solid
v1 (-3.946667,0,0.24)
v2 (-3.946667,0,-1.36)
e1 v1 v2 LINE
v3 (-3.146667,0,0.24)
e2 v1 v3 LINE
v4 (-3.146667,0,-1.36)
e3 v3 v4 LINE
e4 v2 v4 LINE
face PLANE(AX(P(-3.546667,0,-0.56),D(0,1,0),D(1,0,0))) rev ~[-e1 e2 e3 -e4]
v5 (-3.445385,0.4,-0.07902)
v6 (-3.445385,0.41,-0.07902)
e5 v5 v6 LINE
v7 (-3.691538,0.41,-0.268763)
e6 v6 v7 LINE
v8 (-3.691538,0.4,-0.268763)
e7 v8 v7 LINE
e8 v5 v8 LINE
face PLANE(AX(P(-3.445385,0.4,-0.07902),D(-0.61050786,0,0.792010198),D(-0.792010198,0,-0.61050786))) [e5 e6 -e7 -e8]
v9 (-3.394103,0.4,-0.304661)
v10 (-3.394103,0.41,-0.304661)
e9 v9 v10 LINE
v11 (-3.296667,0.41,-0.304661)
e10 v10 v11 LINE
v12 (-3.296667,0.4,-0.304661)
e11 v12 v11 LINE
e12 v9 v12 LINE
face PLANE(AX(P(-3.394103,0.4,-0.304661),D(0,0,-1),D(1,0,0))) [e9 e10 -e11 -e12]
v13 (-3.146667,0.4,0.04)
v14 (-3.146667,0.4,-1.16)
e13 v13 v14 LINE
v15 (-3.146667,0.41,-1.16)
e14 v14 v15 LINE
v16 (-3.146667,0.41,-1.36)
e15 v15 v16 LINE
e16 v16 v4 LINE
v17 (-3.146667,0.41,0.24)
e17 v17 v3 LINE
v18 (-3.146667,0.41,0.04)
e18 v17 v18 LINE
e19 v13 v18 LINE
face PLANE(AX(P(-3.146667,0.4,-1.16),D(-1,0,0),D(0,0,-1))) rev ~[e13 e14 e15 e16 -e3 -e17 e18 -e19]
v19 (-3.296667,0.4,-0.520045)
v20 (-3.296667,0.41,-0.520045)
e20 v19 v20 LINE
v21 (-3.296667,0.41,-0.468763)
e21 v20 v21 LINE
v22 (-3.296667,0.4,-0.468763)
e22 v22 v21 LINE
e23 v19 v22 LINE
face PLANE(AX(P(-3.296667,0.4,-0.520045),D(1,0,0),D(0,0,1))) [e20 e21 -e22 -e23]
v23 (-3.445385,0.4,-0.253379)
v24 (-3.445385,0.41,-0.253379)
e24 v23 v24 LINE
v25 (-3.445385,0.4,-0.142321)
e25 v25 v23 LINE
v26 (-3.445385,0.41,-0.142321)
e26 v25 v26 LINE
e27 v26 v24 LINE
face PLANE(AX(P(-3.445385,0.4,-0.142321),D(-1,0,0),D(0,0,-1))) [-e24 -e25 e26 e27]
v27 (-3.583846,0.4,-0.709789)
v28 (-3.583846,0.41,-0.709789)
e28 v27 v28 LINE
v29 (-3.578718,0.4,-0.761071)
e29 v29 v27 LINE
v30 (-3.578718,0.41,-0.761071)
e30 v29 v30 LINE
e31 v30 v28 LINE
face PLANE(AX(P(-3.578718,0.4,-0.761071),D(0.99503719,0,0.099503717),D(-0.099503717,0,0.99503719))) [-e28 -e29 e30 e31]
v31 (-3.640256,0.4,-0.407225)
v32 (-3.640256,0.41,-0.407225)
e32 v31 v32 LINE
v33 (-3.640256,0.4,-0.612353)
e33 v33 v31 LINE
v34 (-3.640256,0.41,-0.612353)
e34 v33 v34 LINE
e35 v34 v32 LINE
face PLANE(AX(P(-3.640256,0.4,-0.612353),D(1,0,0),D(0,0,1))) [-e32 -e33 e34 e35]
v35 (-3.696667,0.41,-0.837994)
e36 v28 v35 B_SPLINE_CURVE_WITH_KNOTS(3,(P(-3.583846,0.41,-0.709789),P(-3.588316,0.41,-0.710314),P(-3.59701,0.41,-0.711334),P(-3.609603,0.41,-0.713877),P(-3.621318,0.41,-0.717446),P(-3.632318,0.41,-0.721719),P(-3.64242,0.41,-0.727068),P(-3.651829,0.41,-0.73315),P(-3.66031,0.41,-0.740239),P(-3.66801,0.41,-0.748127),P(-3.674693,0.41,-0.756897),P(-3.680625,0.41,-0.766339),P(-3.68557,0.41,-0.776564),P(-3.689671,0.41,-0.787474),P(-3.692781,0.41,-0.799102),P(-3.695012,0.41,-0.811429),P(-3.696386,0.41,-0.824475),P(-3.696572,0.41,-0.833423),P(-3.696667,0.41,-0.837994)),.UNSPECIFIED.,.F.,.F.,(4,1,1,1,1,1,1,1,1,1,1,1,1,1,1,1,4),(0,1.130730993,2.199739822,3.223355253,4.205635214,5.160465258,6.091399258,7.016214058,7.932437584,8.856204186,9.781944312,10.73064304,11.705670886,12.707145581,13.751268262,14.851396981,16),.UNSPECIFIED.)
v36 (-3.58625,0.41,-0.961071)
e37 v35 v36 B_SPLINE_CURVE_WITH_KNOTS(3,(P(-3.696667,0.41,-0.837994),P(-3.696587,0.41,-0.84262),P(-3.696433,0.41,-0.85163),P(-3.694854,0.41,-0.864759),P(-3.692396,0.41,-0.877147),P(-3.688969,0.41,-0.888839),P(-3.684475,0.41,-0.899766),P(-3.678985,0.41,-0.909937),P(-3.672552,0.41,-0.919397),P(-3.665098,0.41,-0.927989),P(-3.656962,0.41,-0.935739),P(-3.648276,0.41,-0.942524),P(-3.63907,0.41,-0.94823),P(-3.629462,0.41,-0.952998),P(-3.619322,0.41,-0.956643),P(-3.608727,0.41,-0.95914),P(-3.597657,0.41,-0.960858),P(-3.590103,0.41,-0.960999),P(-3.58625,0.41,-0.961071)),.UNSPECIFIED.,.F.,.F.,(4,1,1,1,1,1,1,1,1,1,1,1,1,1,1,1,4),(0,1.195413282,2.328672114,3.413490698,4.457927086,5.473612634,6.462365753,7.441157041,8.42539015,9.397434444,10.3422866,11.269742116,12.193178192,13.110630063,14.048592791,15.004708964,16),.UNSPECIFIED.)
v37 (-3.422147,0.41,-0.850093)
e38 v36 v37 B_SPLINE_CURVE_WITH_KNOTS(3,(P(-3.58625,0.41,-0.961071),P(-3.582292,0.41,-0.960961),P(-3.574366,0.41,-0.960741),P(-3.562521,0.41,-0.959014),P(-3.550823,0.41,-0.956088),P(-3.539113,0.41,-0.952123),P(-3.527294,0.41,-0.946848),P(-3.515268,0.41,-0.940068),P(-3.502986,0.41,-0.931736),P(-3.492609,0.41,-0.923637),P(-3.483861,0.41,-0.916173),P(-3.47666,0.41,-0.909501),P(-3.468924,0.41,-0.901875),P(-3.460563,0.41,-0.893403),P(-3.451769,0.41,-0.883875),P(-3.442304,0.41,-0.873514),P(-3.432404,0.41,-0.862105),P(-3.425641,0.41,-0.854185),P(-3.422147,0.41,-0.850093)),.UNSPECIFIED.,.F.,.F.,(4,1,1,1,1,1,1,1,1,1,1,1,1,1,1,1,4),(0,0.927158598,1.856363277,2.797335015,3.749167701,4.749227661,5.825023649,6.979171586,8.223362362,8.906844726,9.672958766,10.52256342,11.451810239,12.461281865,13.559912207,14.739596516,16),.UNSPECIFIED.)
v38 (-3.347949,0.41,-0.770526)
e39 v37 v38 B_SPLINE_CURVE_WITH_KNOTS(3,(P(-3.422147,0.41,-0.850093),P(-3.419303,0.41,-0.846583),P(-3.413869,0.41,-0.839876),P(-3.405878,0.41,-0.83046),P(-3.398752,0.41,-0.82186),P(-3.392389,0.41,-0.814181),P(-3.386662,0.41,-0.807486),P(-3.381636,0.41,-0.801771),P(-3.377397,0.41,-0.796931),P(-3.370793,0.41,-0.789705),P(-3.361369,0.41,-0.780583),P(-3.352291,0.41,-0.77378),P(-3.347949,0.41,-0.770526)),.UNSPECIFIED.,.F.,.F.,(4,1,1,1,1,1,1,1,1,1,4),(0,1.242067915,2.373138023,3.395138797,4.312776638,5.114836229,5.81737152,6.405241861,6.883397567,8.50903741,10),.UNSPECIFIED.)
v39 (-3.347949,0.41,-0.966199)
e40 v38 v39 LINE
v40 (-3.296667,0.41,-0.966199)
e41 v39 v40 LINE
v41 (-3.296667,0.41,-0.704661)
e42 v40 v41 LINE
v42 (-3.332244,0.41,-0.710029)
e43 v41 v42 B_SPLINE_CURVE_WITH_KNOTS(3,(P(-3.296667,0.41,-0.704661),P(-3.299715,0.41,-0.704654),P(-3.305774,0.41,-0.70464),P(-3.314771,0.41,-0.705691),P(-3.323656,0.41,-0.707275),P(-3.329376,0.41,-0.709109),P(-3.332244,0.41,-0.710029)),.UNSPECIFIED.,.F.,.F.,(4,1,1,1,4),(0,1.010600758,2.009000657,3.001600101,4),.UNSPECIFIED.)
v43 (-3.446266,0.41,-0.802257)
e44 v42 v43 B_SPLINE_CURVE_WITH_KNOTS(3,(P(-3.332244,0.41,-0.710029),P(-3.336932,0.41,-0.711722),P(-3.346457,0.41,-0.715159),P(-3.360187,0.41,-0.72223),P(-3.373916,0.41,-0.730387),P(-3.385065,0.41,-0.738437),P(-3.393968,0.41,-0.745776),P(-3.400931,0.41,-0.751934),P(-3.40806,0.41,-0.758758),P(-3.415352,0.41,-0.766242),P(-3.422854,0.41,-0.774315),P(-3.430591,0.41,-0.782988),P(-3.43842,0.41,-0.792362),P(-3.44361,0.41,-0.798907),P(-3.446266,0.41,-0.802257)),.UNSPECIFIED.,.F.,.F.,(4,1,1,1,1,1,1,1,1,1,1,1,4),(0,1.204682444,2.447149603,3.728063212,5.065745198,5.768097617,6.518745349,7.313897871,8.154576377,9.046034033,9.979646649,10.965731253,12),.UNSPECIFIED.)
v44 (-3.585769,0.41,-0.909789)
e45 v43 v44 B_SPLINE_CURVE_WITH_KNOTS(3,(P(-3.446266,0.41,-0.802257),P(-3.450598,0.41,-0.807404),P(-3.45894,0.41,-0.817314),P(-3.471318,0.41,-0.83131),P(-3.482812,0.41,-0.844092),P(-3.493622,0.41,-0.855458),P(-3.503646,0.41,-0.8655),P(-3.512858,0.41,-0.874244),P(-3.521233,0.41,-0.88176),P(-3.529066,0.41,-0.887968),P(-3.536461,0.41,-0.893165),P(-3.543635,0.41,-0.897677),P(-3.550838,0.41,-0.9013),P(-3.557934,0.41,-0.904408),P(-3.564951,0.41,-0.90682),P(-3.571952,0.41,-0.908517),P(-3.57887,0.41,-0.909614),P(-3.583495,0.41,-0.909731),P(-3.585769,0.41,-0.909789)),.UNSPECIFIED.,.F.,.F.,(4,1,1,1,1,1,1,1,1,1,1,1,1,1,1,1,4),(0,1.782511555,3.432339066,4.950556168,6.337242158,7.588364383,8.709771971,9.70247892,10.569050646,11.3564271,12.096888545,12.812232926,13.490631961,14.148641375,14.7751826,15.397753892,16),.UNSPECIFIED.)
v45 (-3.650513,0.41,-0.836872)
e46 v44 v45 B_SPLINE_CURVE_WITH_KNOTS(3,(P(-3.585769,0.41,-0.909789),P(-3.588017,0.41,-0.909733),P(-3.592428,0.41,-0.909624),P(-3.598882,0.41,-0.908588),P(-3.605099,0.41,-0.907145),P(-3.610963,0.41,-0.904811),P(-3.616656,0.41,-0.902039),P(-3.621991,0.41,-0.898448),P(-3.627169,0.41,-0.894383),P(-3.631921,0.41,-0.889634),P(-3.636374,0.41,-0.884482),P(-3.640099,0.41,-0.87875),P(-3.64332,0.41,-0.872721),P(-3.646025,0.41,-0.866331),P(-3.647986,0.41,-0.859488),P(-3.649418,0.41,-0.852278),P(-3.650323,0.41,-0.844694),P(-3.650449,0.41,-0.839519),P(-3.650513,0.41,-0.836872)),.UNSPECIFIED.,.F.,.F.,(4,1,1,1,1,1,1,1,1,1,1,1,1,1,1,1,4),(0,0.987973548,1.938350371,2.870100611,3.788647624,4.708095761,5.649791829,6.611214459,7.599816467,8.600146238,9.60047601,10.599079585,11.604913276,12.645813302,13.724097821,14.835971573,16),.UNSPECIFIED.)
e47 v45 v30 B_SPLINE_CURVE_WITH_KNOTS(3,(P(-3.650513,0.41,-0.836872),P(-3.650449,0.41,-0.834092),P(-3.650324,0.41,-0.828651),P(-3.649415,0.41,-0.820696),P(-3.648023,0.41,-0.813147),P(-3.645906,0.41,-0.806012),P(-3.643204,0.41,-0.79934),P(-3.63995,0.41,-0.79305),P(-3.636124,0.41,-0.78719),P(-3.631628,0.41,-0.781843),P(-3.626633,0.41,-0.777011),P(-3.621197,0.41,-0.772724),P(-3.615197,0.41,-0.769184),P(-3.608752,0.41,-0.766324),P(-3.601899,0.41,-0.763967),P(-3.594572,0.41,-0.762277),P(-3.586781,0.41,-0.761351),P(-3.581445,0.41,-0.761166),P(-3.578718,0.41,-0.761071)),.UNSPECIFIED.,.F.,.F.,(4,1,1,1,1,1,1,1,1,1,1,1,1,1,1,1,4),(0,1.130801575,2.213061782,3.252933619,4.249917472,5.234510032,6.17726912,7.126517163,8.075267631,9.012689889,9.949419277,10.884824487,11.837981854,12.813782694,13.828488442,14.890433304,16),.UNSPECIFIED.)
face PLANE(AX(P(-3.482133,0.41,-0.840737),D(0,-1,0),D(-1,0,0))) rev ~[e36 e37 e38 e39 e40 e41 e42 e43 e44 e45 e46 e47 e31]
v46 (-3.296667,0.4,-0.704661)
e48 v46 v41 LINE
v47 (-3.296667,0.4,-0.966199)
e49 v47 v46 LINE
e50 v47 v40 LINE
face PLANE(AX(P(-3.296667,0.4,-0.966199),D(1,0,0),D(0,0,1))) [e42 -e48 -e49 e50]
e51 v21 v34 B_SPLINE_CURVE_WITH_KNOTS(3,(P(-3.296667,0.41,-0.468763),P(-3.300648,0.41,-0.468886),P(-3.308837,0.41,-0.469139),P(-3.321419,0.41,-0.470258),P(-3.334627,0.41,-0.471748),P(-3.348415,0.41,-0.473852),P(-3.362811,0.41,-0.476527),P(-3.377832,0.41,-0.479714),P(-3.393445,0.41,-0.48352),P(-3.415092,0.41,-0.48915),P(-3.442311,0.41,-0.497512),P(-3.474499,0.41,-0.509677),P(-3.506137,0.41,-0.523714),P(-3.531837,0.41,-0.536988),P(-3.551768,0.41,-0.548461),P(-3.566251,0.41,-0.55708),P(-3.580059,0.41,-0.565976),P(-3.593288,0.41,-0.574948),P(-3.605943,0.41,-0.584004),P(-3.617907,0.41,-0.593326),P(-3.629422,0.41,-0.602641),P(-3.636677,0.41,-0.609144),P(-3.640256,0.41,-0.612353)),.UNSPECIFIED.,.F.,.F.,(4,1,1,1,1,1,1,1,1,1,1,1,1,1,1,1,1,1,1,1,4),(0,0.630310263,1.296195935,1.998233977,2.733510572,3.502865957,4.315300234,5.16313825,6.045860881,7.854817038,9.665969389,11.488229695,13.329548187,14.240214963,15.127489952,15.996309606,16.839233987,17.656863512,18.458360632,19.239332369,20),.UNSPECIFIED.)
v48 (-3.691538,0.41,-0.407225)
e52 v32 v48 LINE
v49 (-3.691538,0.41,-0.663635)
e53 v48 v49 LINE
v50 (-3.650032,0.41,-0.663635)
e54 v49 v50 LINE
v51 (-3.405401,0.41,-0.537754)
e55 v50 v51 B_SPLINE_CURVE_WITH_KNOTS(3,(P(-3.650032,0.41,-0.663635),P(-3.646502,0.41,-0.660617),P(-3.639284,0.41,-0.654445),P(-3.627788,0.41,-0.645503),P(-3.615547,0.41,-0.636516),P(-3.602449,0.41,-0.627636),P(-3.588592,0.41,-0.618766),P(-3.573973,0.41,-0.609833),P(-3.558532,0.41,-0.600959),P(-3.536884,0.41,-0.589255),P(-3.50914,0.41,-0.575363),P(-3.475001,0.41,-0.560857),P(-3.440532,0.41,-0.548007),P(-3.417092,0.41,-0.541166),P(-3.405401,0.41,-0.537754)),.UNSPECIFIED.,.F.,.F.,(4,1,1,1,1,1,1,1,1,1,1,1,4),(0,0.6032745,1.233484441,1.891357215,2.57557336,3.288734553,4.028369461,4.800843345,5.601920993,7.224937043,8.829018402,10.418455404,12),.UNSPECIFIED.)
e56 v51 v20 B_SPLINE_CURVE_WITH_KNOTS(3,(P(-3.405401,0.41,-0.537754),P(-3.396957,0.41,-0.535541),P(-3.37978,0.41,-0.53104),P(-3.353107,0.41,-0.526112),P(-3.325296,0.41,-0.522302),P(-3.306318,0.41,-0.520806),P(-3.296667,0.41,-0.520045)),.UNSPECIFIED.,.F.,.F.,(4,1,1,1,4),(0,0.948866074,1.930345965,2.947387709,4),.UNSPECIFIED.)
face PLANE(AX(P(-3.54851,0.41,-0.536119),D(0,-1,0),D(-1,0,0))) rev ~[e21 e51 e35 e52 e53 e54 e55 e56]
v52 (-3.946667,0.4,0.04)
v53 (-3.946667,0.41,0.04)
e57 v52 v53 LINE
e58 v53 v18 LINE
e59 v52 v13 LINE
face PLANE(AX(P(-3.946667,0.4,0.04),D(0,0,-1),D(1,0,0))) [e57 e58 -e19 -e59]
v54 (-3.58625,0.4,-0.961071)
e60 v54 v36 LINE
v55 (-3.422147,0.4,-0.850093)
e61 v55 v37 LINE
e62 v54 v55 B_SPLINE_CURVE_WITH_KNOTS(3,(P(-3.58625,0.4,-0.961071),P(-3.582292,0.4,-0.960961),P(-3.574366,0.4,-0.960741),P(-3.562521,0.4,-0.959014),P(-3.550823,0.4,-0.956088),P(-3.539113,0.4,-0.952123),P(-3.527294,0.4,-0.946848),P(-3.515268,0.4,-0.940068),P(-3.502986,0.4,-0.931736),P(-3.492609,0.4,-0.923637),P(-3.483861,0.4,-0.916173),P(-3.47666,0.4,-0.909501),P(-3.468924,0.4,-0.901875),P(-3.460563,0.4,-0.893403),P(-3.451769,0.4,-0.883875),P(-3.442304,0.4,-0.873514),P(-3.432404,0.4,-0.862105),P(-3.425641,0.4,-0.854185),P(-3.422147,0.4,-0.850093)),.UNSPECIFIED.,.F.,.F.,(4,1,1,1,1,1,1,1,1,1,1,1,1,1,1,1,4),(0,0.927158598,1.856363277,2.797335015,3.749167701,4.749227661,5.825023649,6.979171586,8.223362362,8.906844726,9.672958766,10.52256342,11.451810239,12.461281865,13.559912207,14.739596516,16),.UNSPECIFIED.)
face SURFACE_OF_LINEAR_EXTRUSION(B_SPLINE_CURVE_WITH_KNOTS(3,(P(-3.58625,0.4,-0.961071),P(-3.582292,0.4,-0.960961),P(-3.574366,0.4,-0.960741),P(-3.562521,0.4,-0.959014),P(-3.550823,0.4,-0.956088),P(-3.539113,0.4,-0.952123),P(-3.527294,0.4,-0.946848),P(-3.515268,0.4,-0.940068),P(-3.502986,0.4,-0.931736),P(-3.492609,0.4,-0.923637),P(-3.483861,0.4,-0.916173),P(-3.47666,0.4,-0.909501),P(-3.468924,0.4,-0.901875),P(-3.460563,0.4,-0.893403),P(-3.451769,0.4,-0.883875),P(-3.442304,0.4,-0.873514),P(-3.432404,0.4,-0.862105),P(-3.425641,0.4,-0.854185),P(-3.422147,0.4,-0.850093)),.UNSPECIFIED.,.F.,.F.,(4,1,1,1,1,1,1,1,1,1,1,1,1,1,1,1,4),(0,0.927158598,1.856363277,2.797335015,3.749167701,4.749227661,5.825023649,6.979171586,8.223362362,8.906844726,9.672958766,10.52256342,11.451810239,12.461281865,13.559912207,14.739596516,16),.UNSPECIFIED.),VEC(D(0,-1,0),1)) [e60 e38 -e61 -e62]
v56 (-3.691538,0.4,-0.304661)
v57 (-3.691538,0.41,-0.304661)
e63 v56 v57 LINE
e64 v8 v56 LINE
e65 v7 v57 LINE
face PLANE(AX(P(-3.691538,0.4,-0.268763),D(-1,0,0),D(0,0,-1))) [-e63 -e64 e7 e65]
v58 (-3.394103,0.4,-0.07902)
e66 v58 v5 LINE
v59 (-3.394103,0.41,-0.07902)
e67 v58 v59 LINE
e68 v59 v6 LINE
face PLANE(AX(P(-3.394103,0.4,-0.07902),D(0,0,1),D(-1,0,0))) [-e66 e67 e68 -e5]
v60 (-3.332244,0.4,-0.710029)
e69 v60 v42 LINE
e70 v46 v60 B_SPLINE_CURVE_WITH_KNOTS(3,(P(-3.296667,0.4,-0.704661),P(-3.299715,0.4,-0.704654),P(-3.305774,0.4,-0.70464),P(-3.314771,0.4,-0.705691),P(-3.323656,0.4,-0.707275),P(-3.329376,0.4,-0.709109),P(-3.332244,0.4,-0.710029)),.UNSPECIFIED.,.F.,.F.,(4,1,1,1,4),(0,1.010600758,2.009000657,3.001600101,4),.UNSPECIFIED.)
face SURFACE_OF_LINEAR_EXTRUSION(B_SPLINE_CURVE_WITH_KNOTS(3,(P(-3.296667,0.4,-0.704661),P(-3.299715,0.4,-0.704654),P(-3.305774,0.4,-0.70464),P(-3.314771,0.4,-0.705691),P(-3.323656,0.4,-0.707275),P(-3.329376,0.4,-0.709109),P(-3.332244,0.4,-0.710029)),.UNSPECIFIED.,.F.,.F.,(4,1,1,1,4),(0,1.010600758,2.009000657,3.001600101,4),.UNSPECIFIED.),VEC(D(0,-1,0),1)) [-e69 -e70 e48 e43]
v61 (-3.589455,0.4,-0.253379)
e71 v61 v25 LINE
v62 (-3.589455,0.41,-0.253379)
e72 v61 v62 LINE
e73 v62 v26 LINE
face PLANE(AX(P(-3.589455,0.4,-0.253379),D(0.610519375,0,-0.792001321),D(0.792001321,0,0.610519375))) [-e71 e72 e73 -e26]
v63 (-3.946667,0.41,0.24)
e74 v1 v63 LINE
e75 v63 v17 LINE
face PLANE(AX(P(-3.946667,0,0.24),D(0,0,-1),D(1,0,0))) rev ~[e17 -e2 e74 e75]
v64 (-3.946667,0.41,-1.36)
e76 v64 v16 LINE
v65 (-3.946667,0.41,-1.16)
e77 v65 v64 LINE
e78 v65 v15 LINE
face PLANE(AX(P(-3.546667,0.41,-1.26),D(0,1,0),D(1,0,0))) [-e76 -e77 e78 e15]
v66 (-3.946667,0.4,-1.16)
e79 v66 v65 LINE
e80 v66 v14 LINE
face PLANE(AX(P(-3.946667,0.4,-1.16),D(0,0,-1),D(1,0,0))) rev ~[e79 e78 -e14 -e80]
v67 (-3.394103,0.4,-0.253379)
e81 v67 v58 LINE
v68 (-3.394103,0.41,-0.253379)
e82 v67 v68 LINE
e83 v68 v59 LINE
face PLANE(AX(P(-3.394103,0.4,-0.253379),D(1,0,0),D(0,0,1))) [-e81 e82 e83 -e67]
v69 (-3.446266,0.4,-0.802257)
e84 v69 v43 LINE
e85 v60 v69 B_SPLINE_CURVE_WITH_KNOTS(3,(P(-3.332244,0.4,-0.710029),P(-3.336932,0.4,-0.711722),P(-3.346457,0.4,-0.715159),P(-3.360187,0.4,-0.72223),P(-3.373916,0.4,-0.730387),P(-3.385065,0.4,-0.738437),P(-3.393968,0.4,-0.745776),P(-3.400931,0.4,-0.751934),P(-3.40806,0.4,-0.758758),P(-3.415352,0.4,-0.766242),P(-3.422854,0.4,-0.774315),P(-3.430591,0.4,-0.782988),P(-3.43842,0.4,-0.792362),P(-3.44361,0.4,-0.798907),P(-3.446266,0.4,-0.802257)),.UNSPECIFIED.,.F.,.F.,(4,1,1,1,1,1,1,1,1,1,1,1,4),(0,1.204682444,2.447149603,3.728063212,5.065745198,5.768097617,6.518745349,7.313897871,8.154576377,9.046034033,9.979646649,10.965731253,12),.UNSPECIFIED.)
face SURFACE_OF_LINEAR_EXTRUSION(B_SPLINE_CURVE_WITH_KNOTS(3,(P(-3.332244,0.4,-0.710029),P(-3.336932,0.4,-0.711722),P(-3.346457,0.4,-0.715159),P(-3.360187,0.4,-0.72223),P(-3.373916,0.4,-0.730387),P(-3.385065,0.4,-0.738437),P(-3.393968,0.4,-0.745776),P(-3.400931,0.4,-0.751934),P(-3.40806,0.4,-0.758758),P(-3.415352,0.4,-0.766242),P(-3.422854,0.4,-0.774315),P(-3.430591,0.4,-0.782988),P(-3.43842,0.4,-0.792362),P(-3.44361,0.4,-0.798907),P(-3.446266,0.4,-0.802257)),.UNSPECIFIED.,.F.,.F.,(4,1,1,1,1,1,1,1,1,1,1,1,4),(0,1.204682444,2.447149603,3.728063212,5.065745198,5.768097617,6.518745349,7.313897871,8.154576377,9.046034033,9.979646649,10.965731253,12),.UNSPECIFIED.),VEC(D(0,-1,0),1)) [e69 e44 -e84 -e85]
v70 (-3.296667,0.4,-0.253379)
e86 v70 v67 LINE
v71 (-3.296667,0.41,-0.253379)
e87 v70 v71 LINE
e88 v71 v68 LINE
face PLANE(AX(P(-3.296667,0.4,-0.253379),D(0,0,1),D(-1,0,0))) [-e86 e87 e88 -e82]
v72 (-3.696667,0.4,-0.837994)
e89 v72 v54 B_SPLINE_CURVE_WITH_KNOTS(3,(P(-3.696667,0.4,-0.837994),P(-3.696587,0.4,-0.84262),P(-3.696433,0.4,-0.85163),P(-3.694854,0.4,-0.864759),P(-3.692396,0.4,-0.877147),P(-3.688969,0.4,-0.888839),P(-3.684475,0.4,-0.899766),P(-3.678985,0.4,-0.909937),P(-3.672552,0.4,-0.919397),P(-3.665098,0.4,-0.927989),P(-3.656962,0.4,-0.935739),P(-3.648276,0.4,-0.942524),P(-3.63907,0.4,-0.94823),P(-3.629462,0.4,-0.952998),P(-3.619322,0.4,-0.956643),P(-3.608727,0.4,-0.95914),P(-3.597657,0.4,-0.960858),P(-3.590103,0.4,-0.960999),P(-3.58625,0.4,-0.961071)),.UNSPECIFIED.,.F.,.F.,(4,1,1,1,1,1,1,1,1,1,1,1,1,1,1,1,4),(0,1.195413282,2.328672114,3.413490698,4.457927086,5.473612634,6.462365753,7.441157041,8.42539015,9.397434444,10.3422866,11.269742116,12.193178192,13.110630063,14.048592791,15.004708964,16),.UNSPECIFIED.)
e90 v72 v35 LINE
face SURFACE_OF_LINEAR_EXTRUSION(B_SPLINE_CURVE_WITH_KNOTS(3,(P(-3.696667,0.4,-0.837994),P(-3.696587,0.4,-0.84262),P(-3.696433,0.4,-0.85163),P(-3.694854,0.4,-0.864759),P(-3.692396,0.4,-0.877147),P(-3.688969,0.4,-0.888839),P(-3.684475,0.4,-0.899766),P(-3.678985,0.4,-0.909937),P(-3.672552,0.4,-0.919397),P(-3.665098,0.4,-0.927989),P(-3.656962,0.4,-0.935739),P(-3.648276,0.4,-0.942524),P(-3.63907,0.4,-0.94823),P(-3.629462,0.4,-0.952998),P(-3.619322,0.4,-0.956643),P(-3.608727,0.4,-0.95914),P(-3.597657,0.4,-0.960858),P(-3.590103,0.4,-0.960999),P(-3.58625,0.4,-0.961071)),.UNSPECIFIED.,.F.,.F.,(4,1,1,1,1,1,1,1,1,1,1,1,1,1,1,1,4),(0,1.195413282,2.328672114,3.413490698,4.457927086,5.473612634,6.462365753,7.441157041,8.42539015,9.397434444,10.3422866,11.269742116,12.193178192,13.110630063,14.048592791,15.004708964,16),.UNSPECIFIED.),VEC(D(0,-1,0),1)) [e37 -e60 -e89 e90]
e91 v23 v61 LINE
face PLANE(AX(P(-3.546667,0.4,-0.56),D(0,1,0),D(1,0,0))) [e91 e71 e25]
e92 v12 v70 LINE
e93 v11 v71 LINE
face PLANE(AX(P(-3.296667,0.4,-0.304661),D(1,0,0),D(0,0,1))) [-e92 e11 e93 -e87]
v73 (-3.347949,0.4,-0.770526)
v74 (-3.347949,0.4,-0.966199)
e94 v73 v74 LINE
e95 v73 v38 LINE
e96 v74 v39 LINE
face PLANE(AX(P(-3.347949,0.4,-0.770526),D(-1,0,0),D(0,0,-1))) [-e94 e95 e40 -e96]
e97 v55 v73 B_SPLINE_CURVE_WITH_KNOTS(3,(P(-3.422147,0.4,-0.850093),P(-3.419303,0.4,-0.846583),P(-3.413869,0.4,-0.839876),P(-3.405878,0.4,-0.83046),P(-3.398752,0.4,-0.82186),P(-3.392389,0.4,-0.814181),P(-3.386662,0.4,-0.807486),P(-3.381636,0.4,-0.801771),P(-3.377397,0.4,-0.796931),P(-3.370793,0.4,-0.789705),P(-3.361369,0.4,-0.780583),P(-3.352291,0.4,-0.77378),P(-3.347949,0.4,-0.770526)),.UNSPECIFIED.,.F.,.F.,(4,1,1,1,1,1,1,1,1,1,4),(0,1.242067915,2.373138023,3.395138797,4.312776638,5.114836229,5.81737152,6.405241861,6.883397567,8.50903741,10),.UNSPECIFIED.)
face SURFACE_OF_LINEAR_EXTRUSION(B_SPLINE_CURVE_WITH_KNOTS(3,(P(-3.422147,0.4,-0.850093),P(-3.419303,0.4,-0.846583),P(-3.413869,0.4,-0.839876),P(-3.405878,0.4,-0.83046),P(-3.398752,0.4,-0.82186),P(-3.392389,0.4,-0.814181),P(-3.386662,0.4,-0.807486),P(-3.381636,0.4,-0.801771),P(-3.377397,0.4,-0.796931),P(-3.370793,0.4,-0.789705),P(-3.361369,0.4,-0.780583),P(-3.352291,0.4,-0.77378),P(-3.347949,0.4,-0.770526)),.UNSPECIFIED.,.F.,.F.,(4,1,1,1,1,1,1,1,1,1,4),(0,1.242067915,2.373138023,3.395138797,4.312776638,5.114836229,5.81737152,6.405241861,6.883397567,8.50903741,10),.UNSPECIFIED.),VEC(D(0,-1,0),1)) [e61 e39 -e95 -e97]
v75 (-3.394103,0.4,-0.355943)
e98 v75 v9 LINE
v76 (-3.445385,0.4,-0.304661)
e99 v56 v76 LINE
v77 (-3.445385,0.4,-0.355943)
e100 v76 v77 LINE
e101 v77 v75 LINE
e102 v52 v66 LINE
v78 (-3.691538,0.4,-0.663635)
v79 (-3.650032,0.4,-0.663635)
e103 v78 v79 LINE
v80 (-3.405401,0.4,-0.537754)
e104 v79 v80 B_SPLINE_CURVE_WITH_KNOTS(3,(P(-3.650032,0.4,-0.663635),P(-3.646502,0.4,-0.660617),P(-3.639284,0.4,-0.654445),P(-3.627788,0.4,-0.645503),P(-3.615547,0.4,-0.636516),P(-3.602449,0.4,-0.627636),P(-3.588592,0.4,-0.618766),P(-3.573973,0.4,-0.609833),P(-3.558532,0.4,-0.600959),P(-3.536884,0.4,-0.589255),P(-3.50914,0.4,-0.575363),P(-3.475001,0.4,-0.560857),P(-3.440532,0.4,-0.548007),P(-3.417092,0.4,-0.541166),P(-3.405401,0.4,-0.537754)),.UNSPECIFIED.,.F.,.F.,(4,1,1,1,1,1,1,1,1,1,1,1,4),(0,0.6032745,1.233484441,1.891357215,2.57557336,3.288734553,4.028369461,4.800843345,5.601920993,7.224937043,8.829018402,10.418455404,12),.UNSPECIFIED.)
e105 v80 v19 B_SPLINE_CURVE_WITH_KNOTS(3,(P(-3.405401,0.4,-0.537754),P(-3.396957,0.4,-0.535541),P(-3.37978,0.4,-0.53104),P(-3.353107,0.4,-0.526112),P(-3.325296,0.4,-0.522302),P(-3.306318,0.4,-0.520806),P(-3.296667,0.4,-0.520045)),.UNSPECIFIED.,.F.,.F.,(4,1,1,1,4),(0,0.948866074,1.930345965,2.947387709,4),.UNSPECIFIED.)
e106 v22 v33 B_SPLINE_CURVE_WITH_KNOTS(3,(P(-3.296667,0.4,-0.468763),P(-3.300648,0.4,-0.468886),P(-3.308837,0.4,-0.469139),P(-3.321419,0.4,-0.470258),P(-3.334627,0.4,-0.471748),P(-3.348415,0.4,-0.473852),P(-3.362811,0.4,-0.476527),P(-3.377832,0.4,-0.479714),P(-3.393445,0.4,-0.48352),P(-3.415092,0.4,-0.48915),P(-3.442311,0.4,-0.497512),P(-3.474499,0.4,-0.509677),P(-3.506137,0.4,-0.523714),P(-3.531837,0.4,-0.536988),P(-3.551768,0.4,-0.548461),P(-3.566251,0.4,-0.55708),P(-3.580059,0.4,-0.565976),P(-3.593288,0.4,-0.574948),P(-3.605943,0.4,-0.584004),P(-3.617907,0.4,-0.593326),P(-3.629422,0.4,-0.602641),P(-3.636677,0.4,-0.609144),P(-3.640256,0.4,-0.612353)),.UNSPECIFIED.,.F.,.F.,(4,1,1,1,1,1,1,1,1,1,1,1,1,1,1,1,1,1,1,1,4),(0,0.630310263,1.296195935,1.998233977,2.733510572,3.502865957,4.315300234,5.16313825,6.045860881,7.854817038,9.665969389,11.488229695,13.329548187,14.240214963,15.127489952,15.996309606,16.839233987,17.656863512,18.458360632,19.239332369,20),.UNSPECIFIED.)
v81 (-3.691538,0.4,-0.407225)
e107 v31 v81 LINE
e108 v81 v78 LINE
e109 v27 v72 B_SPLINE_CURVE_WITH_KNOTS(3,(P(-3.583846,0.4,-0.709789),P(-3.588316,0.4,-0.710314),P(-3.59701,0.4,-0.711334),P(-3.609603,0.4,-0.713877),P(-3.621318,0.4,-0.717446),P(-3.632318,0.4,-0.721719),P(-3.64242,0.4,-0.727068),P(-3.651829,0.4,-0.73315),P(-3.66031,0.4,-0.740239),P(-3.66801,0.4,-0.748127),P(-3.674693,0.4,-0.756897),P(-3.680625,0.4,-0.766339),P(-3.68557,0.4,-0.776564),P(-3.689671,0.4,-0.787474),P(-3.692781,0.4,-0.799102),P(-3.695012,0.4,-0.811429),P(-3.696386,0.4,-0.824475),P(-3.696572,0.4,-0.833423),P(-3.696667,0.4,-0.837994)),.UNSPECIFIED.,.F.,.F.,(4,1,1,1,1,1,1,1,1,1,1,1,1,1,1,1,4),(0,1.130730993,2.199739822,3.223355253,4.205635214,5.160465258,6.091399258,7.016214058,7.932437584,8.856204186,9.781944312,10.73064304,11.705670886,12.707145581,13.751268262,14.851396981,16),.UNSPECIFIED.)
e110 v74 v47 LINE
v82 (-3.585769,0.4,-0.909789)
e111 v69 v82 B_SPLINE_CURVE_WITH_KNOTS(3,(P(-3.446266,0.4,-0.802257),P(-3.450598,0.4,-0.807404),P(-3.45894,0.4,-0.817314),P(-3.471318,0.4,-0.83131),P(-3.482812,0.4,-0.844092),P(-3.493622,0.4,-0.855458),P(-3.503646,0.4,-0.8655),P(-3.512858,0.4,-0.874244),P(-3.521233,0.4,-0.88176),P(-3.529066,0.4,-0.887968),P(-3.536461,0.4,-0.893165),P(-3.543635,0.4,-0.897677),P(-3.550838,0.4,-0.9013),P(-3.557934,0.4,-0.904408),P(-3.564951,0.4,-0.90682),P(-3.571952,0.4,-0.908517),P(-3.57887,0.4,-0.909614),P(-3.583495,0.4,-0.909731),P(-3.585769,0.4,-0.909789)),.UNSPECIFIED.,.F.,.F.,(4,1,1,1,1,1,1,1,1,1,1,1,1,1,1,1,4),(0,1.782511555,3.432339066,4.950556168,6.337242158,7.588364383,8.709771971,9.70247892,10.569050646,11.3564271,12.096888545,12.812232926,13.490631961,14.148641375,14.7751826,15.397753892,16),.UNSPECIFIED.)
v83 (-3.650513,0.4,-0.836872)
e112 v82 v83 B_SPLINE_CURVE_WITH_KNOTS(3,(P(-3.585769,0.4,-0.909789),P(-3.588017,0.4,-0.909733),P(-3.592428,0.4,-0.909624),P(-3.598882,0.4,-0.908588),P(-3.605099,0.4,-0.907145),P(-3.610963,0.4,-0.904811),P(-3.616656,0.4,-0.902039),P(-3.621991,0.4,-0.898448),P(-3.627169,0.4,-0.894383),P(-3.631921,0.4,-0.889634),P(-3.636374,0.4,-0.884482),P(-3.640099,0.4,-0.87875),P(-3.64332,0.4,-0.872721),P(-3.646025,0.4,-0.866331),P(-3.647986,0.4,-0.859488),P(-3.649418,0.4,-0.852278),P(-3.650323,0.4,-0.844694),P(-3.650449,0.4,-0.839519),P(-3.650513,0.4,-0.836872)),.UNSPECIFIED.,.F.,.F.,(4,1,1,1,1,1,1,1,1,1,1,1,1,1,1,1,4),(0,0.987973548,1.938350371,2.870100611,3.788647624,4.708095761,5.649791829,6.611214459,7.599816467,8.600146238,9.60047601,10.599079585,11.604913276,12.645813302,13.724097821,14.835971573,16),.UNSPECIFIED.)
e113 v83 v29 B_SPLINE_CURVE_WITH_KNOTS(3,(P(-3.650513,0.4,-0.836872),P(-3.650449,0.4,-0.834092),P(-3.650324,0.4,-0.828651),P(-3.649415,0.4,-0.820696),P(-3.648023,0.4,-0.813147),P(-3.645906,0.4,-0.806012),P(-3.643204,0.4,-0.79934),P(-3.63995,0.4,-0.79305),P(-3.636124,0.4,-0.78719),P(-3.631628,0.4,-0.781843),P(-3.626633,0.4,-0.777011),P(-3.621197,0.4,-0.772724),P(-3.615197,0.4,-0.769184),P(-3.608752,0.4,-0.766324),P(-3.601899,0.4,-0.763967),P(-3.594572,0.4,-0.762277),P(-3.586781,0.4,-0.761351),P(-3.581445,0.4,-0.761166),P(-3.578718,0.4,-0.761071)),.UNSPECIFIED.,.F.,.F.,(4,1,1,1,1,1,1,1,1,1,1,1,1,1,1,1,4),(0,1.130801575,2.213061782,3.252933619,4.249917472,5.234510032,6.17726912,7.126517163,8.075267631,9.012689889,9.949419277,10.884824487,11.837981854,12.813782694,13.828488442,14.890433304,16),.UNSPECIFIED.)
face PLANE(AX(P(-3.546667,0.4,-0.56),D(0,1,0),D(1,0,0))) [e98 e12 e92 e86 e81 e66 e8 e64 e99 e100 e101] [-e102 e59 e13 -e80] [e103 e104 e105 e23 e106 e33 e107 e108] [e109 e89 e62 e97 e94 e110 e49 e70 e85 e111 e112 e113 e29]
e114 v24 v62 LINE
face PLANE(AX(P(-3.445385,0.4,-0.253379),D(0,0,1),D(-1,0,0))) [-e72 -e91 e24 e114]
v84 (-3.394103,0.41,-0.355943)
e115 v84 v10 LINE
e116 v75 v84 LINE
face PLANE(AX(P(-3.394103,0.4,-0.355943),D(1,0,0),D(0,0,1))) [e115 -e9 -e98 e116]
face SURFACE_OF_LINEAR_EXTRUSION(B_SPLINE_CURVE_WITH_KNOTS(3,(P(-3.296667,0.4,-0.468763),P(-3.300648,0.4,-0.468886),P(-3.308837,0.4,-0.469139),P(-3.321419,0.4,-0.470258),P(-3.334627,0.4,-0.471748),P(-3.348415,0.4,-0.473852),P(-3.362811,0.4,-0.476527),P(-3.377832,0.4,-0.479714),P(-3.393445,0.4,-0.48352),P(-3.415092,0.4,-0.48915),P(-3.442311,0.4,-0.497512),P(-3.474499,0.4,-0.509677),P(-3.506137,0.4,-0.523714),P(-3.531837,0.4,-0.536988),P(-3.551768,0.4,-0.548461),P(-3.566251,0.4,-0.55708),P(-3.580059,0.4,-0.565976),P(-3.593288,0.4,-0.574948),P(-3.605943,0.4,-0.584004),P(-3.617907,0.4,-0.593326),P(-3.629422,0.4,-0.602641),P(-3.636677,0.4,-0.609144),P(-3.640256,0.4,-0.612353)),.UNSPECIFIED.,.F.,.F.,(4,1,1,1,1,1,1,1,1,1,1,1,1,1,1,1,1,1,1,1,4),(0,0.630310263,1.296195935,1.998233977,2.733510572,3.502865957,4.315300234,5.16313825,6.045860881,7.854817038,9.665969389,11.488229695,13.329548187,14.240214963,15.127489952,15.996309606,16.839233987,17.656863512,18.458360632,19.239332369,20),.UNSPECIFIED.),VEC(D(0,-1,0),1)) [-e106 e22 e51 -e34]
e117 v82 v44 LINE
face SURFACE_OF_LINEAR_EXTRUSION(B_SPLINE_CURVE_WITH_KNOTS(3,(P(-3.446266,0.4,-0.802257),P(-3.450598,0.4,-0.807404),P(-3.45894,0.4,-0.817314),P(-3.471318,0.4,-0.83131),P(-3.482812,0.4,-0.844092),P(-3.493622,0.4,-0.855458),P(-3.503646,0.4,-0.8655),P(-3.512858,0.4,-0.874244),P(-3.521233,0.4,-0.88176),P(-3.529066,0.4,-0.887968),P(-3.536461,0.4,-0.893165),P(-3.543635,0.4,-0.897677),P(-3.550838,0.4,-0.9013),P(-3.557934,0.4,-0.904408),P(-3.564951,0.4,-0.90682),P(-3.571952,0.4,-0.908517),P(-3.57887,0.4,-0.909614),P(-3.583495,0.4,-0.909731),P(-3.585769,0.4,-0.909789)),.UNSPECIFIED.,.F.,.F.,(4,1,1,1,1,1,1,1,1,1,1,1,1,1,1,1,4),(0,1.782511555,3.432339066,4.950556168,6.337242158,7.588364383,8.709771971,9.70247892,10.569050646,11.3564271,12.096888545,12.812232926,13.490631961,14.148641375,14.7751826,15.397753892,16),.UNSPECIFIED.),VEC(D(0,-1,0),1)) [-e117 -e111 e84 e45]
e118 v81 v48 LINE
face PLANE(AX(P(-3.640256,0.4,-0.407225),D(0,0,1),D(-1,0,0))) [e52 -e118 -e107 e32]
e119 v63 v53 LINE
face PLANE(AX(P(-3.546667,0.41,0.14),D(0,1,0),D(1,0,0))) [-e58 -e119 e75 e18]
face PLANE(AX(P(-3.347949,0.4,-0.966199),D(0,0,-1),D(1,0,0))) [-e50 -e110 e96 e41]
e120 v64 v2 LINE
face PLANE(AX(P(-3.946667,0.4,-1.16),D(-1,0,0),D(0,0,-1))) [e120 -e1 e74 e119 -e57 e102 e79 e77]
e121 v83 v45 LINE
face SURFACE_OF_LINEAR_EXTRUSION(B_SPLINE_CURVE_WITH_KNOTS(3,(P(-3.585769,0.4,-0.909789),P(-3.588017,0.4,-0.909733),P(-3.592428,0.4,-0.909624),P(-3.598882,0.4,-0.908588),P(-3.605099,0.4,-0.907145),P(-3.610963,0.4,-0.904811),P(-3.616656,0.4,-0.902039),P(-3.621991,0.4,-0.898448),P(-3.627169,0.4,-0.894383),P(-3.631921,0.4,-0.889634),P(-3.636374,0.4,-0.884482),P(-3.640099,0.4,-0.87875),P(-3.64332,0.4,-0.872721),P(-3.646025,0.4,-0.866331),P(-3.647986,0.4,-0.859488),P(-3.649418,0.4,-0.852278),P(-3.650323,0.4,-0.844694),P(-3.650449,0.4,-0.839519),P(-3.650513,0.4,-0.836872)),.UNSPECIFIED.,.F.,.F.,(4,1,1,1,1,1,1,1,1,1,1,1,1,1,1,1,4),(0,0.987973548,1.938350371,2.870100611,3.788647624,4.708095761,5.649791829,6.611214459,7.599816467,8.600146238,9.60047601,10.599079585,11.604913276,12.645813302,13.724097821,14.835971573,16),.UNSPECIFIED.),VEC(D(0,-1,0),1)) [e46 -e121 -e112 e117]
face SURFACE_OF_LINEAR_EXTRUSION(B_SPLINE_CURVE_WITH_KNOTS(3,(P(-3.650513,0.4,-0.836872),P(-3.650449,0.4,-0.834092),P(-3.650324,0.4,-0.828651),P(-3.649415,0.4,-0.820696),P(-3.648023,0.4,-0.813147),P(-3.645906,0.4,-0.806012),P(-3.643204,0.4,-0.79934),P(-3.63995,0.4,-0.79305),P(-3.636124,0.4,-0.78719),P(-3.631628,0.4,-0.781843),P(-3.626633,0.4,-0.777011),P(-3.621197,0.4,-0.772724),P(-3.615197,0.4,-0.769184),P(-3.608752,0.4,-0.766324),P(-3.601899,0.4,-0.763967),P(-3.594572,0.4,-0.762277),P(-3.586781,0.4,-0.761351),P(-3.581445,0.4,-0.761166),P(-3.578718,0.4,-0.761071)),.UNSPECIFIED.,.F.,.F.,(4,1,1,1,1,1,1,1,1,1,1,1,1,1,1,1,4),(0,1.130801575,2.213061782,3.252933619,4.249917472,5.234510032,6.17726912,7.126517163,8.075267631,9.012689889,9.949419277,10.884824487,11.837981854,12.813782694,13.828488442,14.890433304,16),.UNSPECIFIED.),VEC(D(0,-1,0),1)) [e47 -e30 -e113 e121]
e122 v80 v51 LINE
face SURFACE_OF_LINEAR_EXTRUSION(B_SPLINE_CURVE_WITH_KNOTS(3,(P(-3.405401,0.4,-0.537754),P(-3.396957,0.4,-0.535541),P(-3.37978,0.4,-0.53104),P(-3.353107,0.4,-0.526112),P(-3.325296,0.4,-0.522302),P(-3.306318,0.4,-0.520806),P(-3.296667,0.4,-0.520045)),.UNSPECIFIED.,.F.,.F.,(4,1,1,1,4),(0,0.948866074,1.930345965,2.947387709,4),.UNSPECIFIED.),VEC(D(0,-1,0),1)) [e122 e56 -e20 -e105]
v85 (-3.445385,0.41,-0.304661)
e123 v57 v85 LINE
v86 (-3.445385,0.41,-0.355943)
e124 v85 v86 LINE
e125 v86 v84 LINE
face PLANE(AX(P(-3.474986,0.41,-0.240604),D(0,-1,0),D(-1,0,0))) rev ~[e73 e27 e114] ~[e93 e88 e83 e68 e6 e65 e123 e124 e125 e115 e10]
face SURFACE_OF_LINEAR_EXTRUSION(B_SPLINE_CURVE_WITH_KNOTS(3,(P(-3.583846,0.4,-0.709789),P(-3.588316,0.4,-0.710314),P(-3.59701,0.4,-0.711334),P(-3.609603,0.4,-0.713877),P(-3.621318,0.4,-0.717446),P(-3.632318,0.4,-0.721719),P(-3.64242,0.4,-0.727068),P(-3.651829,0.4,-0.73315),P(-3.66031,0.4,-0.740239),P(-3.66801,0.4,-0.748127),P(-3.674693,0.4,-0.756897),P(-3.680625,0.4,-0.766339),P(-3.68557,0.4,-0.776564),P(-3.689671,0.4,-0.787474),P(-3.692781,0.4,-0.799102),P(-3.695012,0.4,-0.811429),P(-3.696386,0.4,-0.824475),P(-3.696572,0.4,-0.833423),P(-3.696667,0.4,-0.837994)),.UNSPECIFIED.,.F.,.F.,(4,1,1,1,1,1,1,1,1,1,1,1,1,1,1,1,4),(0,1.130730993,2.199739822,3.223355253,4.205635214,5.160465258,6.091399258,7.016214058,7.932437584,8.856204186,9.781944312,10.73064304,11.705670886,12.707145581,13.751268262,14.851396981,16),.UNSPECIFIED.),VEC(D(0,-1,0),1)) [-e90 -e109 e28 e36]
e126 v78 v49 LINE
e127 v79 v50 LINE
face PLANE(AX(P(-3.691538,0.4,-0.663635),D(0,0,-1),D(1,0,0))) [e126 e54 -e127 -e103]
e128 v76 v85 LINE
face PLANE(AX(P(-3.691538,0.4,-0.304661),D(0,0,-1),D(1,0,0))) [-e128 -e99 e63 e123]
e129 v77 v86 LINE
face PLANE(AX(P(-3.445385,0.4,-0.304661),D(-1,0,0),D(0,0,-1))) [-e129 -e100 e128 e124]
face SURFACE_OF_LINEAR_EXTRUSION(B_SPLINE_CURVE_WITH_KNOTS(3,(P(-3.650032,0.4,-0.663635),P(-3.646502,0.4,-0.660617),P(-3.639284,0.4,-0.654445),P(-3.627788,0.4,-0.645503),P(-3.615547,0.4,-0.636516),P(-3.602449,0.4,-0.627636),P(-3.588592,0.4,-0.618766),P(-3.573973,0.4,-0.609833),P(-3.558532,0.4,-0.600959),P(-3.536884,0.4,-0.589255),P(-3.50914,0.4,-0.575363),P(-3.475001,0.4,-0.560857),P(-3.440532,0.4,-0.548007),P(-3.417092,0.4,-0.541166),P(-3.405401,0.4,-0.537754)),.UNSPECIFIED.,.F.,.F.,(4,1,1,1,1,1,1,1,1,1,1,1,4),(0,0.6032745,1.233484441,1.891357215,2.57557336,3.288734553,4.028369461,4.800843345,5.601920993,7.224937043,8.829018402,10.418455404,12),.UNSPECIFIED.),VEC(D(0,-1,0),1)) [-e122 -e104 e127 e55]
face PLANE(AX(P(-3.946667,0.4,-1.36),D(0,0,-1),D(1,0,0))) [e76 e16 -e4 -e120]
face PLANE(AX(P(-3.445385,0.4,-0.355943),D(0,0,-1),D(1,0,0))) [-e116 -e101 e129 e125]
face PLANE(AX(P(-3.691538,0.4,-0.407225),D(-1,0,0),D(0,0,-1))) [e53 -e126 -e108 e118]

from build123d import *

# Parameters (mm, degrees)
SKETCH_1_W      = 0.8
SKETCH_1_H      = 1.6
EXTRUDE_1_DEPTH = 0.4
SKETCH_2_W      = 0.8
SKETCH_2_H      = 0.2
EXTRUDE_2_DEPTH = 0.01


with BuildPart() as part:
    # Эскиз1 → Бобышка-Вытянуть1 (new body)
    with BuildSketch(Plane(origin=(0, 0, 0), x_dir=(1, 0, 0), z_dir=(0, 1, 0))):
        with Locations((-3.546666667, 0.56)):
            Rectangle(SKETCH_1_W, SKETCH_1_H)
    extrude(amount=EXTRUDE_1_DEPTH)

    # Эскиз2 → Бобышка-Вытянуть2 (add)
    with BuildSketch(Plane(origin=(0, 0.4, 0), x_dir=(1, 0, 0), z_dir=(0, 1, 0))):
        with Locations((-3.546666667, 1.26)):
            Rectangle(SKETCH_2_W, SKETCH_2_H)
        with Locations((-3.546666667, -0.14)):
            Rectangle(SKETCH_2_W, SKETCH_2_H)
        with BuildLine():
            Line((-3.347948718, 0.96619925), (-3.296666667, 0.96619925))
            Line((-3.296666667, 0.96619925), (-3.296666667, 0.704660789))
            add(Edge.make_bspline(
                [(-3.296666667, 0.704660789), (-3.299714721, 0.704653678), (-3.305774032, 0.704639541), (-3.314770725, 0.705690594), (-3.323656392, 0.707274517), (-3.329375637, 0.709109309), (-3.33224359, 0.710029379)],
                knots=[0, 0, 0, 0, 1.010600758, 2.009000657, 3.001600101, 4, 4, 4, 4], degree=3))
            add(Edge.make_bspline(
                [(-3.33224359, 0.710029379), (-3.336932362, 0.711721718), (-3.346456969, 0.715159476), (-3.360187488, 0.722229591), (-3.373915942, 0.730387016), (-3.38506487, 0.738436812), (-3.393967559, 0.745776399), (-3.400931315, 0.751934453), (-3.408059998, 0.758757865), (-3.415351725, 0.766242173), (-3.422853891, 0.774315053), (-3.430591465, 0.782987605), (-3.438420265, 0.792362213), (-3.443609519, 0.798906673), (-3.446266026, 0.802256943)],
                knots=[0, 0, 0, 0, 1.204682444, 2.447149603, 3.728063212, 5.065745198, 5.768097617, 6.518745349, 7.313897871, 8.154576377, 9.046034033, 9.979646649, 10.965731253, 12, 12, 12, 12], degree=3))
            add(Edge.make_bspline(
                [(-3.446266026, 0.802256943), (-3.45059804, 0.807403785), (-3.458939607, 0.817314355), (-3.471317716, 0.831309641), (-3.482811507, 0.84409203), (-3.493622362, 0.855458095), (-3.503645651, 0.865500412), (-3.512857936, 0.874243792), (-3.521232754, 0.881759597), (-3.529066081, 0.887968052), (-3.536461335, 0.89316514), (-3.543635002, 0.897677348), (-3.550838276, 0.901299603), (-3.55793436, 0.904408042), (-3.564951278, 0.906819597), (-3.571951879, 0.908516787), (-3.578869895, 0.909613508), (-3.583495036, 0.909731149), (-3.585769231, 0.909788994)],
                knots=[0, 0, 0, 0, 1.782511555, 3.432339066, 4.950556168, 6.337242158, 7.588364383, 8.709771971, 9.70247892, 10.569050646, 11.3564271, 12.096888545, 12.812232926, 13.490631961, 14.148641375, 14.7751826, 15.397753892, 16, 16, 16, 16], degree=3))
            add(Edge.make_bspline(
                [(-3.585769231, 0.909788994), (-3.588017262, 0.909733321), (-3.592427777, 0.909624092), (-3.598882449, 0.908587524), (-3.605098798, 0.907145011), (-3.610963294, 0.904811094), (-3.616655693, 0.902039253), (-3.621990535, 0.898447859), (-3.627169376, 0.894382659), (-3.631921404, 0.889633661), (-3.636373741, 0.884482269), (-3.640098955, 0.87875047), (-3.643320365, 0.872720515), (-3.646025422, 0.866331302), (-3.647986405, 0.859488111), (-3.649417628, 0.852277685), (-3.650323049, 0.844694102), (-3.650448604, 0.839519116), (-3.650512821, 0.836872327)],
                knots=[0, 0, 0, 0, 0.987973548, 1.938350371, 2.870100611, 3.788647624, 4.708095761, 5.649791829, 6.611214459, 7.599816467, 8.600146238, 9.60047601, 10.599079585, 11.604913276, 12.645813302, 13.724097821, 14.835971573, 16, 16, 16, 16], degree=3))
            add(Edge.make_bspline(
                [(-3.650512821, 0.836872327), (-3.650448919, 0.83409195), (-3.65032386, 0.828650546), (-3.649414862, 0.820696253), (-3.648022672, 0.8131466), (-3.645906086, 0.806012387), (-3.643203711, 0.799339736), (-3.639949776, 0.793050051), (-3.636123517, 0.787190009), (-3.631628174, 0.781842581), (-3.626633448, 0.777010688), (-3.621196547, 0.772724047), (-3.615197435, 0.769184165), (-3.608751543, 0.766323888), (-3.601899236, 0.763966526), (-3.594572456, 0.762276504), (-3.586780767, 0.761351474), (-3.581444563, 0.761165878), (-3.578717949, 0.761071045)],
                knots=[0, 0, 0, 0, 1.130801575, 2.213061782, 3.252933619, 4.249917472, 5.234510032, 6.17726912, 7.126517163, 8.075267631, 9.012689889, 9.949419277, 10.884824487, 11.837981854, 12.813782694, 13.828488442, 14.890433304, 16, 16, 16, 16], degree=3))
            Line((-3.578717949, 0.761071045), (-3.583846154, 0.709788994))
            add(Edge.make_bspline(
                [(-3.583846154, 0.709788994), (-3.588315516, 0.710313674), (-3.597010277, 0.711334394), (-3.609603065, 0.71387702), (-3.621318367, 0.717446081), (-3.632317675, 0.721718641), (-3.642420269, 0.727067939), (-3.6518288, 0.733149711), (-3.660309503, 0.740238528), (-3.66800975, 0.74812715), (-3.674692755, 0.756896835), (-3.680625157, 0.766339148), (-3.685570315, 0.776564159), (-3.689671345, 0.787474273), (-3.692781161, 0.799101959), (-3.695011662, 0.811428697), (-3.696386448, 0.824474892), (-3.696571928, 0.833423413), (-3.696666667, 0.837994122)],
                knots=[0, 0, 0, 0, 1.130730993, 2.199739822, 3.223355253, 4.205635214, 5.160465258, 6.091399258, 7.016214058, 7.932437584, 8.856204186, 9.781944312, 10.73064304, 11.705670886, 12.707145581, 13.751268262, 14.851396981, 16, 16, 16, 16], degree=3))
            add(Edge.make_bspline(
                [(-3.696666667, 0.837994122), (-3.696587462, 0.842619542), (-3.69643317, 0.851629887), (-3.694854453, 0.864759408), (-3.692395617, 0.877147474), (-3.688968751, 0.888839497), (-3.684475113, 0.89976641), (-3.678984885, 0.909936577), (-3.672551696, 0.919397044), (-3.66509805, 0.927989176), (-3.656961938, 0.935738546), (-3.648276111, 0.94252391), (-3.639070222, 0.948230333), (-3.629462356, 0.952997663), (-3.619322428, 0.956642507), (-3.608726584, 0.959140325), (-3.597657153, 0.96085828), (-3.590102935, 0.960999181), (-3.58625, 0.961071045)],
                knots=[0, 0, 0, 0, 1.195413282, 2.328672114, 3.413490698, 4.457927086, 5.473612634, 6.462365753, 7.441157041, 8.42539015, 9.397434444, 10.3422866, 11.269742116, 12.193178192, 13.110630063, 14.048592791, 15.004708964, 16, 16, 16, 16], degree=3))
            add(Edge.make_bspline(
                [(-3.58625, 0.961071045), (-3.582291584, 0.96096106), (-3.574366015, 0.960740846), (-3.562521371, 0.959013923), (-3.550822762, 0.956087583), (-3.539112888, 0.952123006), (-3.527293622, 0.946848171), (-3.51526789, 0.940068453), (-3.502985529, 0.931735692), (-3.492609351, 0.923636931), (-3.483861017, 0.916172703), (-3.476660227, 0.909501035), (-3.46892387, 0.901874967), (-3.460562632, 0.893403332), (-3.451769433, 0.883875186), (-3.442303631, 0.873514434), (-3.432403514, 0.862105379), (-3.425640701, 0.854184786), (-3.422147436, 0.850093481)],
                knots=[0, 0, 0, 0, 0.927158598, 1.856363277, 2.797335015, 3.749167701, 4.749227661, 5.825023649, 6.979171586, 8.223362362, 8.906844726, 9.672958766, 10.52256342, 11.451810239, 12.461281865, 13.559912207, 14.739596516, 16, 16, 16, 16], degree=3))
            add(Edge.make_bspline(
                [(-3.422147436, 0.850093481), (-3.4193034, 0.84658306), (-3.413869486, 0.839875929), (-3.405878123, 0.830460357), (-3.398751822, 0.821860159), (-3.392389028, 0.814181288), (-3.386661568, 0.807485977), (-3.381635635, 0.801770745), (-3.377396759, 0.79693144), (-3.370792529, 0.789705237), (-3.361369328, 0.780582945), (-3.352291495, 0.773780445), (-3.347948718, 0.770526173)],
                knots=[0, 0, 0, 0, 1.242067915, 2.373138023, 3.395138797, 4.312776638, 5.114836229, 5.81737152, 6.405241861, 6.883397567, 8.50903741, 10, 10, 10, 10], degree=3))
            Line((-3.347948718, 0.770526173), (-3.347948718, 0.96619925))
        make_face()
        with BuildLine():
            Line((-3.64025641, 0.407224891), (-3.691538462, 0.407224891))
            Line((-3.691538462, 0.407224891), (-3.691538462, 0.663635148))
            Line((-3.691538462, 0.663635148), (-3.650032051, 0.663635148))
            add(Edge.make_bspline(
                [(-3.650032051, 0.663635148), (-3.646502021, 0.660616545), (-3.639284349, 0.654444563), (-3.627787933, 0.645502899), (-3.61554742, 0.636515998), (-3.60244882, 0.627635735), (-3.588592227, 0.61876604), (-3.573973239, 0.609833167), (-3.558531576, 0.600959048), (-3.536884197, 0.589255431), (-3.509140266, 0.575362882), (-3.475000597, 0.560856757), (-3.440531826, 0.54800689), (-3.417091589, 0.54116578), (-3.405400641, 0.537753738)],
                knots=[0, 0, 0, 0, 0.6032745, 1.233484441, 1.891357215, 2.57557336, 3.288734553, 4.028369461, 4.800843345, 5.601920993, 7.224937043, 8.829018402, 10.418455404, 12, 12, 12, 12], degree=3))
            add(Edge.make_bspline(
                [(-3.405400641, 0.537753738), (-3.396957321, 0.535541077), (-3.379780473, 0.531039703), (-3.353107004, 0.526112085), (-3.325295894, 0.522302305), (-3.306318462, 0.520806275), (-3.296666667, 0.520045404)],
                knots=[0, 0, 0, 0, 0.948866074, 1.930345965, 2.947387709, 4, 4, 4, 4], degree=3))
            Line((-3.296666667, 0.520045404), (-3.296666667, 0.468763353))
            add(Edge.make_bspline(
                [(-3.296666667, 0.468763353), (-3.300648464, 0.468886356), (-3.308836796, 0.469139305), (-3.321419039, 0.470257863), (-3.334626523, 0.471747682), (-3.34841463, 0.473851923), (-3.362811345, 0.47652659), (-3.377831929, 0.479713791), (-3.393445276, 0.483520299), (-3.415092317, 0.48914961), (-3.442310543, 0.497512223), (-3.474498855, 0.509677325), (-3.506137168, 0.52371432), (-3.531836702, 0.536987949), (-3.551768129, 0.548460586), (-3.566250592, 0.557079737), (-3.580059398, 0.565975659), (-3.593287523, 0.574947686), (-3.605942611, 0.584003547), (-3.617907266, 0.593326123), (-3.629421628, 0.60264096), (-3.636676667, 0.609144268), (-3.64025641, 0.612353097)],
                knots=[0, 0, 0, 0, 0.630310263, 1.296195935, 1.998233977, 2.733510572, 3.502865957, 4.315300234, 5.16313825, 6.045860881, 7.854817038, 9.665969389, 11.488229695, 13.329548187, 14.240214963, 15.127489952, 15.996309606, 16.839233987, 17.656863512, 18.458360632, 19.239332369, 20, 20, 20, 20], degree=3))
            Line((-3.64025641, 0.612353097), (-3.64025641, 0.407224891))
        make_face()
        Polygon((-3.296666667, 0.253378738), (-3.394102564, 0.253378738), (-3.394102564, 0.079019763), (-3.445384615, 0.079019763), (-3.691538462, 0.268763353), (-3.691538462, 0.304660789), (-3.445384615, 0.304660789), (-3.445384615, 0.35594284), (-3.394102564, 0.35594284), (-3.394102564, 0.304660789), (-3.296666667, 0.304660789), align=None)
        Polygon((-3.445384615, 0.253378738), (-3.589455128, 0.253378738), (-3.445384615, 0.142321045), align=None, mode=Mode.SUBTRACT)
    extrude(amount=EXTRUDE_2_DEPTH)


solid = part.part
